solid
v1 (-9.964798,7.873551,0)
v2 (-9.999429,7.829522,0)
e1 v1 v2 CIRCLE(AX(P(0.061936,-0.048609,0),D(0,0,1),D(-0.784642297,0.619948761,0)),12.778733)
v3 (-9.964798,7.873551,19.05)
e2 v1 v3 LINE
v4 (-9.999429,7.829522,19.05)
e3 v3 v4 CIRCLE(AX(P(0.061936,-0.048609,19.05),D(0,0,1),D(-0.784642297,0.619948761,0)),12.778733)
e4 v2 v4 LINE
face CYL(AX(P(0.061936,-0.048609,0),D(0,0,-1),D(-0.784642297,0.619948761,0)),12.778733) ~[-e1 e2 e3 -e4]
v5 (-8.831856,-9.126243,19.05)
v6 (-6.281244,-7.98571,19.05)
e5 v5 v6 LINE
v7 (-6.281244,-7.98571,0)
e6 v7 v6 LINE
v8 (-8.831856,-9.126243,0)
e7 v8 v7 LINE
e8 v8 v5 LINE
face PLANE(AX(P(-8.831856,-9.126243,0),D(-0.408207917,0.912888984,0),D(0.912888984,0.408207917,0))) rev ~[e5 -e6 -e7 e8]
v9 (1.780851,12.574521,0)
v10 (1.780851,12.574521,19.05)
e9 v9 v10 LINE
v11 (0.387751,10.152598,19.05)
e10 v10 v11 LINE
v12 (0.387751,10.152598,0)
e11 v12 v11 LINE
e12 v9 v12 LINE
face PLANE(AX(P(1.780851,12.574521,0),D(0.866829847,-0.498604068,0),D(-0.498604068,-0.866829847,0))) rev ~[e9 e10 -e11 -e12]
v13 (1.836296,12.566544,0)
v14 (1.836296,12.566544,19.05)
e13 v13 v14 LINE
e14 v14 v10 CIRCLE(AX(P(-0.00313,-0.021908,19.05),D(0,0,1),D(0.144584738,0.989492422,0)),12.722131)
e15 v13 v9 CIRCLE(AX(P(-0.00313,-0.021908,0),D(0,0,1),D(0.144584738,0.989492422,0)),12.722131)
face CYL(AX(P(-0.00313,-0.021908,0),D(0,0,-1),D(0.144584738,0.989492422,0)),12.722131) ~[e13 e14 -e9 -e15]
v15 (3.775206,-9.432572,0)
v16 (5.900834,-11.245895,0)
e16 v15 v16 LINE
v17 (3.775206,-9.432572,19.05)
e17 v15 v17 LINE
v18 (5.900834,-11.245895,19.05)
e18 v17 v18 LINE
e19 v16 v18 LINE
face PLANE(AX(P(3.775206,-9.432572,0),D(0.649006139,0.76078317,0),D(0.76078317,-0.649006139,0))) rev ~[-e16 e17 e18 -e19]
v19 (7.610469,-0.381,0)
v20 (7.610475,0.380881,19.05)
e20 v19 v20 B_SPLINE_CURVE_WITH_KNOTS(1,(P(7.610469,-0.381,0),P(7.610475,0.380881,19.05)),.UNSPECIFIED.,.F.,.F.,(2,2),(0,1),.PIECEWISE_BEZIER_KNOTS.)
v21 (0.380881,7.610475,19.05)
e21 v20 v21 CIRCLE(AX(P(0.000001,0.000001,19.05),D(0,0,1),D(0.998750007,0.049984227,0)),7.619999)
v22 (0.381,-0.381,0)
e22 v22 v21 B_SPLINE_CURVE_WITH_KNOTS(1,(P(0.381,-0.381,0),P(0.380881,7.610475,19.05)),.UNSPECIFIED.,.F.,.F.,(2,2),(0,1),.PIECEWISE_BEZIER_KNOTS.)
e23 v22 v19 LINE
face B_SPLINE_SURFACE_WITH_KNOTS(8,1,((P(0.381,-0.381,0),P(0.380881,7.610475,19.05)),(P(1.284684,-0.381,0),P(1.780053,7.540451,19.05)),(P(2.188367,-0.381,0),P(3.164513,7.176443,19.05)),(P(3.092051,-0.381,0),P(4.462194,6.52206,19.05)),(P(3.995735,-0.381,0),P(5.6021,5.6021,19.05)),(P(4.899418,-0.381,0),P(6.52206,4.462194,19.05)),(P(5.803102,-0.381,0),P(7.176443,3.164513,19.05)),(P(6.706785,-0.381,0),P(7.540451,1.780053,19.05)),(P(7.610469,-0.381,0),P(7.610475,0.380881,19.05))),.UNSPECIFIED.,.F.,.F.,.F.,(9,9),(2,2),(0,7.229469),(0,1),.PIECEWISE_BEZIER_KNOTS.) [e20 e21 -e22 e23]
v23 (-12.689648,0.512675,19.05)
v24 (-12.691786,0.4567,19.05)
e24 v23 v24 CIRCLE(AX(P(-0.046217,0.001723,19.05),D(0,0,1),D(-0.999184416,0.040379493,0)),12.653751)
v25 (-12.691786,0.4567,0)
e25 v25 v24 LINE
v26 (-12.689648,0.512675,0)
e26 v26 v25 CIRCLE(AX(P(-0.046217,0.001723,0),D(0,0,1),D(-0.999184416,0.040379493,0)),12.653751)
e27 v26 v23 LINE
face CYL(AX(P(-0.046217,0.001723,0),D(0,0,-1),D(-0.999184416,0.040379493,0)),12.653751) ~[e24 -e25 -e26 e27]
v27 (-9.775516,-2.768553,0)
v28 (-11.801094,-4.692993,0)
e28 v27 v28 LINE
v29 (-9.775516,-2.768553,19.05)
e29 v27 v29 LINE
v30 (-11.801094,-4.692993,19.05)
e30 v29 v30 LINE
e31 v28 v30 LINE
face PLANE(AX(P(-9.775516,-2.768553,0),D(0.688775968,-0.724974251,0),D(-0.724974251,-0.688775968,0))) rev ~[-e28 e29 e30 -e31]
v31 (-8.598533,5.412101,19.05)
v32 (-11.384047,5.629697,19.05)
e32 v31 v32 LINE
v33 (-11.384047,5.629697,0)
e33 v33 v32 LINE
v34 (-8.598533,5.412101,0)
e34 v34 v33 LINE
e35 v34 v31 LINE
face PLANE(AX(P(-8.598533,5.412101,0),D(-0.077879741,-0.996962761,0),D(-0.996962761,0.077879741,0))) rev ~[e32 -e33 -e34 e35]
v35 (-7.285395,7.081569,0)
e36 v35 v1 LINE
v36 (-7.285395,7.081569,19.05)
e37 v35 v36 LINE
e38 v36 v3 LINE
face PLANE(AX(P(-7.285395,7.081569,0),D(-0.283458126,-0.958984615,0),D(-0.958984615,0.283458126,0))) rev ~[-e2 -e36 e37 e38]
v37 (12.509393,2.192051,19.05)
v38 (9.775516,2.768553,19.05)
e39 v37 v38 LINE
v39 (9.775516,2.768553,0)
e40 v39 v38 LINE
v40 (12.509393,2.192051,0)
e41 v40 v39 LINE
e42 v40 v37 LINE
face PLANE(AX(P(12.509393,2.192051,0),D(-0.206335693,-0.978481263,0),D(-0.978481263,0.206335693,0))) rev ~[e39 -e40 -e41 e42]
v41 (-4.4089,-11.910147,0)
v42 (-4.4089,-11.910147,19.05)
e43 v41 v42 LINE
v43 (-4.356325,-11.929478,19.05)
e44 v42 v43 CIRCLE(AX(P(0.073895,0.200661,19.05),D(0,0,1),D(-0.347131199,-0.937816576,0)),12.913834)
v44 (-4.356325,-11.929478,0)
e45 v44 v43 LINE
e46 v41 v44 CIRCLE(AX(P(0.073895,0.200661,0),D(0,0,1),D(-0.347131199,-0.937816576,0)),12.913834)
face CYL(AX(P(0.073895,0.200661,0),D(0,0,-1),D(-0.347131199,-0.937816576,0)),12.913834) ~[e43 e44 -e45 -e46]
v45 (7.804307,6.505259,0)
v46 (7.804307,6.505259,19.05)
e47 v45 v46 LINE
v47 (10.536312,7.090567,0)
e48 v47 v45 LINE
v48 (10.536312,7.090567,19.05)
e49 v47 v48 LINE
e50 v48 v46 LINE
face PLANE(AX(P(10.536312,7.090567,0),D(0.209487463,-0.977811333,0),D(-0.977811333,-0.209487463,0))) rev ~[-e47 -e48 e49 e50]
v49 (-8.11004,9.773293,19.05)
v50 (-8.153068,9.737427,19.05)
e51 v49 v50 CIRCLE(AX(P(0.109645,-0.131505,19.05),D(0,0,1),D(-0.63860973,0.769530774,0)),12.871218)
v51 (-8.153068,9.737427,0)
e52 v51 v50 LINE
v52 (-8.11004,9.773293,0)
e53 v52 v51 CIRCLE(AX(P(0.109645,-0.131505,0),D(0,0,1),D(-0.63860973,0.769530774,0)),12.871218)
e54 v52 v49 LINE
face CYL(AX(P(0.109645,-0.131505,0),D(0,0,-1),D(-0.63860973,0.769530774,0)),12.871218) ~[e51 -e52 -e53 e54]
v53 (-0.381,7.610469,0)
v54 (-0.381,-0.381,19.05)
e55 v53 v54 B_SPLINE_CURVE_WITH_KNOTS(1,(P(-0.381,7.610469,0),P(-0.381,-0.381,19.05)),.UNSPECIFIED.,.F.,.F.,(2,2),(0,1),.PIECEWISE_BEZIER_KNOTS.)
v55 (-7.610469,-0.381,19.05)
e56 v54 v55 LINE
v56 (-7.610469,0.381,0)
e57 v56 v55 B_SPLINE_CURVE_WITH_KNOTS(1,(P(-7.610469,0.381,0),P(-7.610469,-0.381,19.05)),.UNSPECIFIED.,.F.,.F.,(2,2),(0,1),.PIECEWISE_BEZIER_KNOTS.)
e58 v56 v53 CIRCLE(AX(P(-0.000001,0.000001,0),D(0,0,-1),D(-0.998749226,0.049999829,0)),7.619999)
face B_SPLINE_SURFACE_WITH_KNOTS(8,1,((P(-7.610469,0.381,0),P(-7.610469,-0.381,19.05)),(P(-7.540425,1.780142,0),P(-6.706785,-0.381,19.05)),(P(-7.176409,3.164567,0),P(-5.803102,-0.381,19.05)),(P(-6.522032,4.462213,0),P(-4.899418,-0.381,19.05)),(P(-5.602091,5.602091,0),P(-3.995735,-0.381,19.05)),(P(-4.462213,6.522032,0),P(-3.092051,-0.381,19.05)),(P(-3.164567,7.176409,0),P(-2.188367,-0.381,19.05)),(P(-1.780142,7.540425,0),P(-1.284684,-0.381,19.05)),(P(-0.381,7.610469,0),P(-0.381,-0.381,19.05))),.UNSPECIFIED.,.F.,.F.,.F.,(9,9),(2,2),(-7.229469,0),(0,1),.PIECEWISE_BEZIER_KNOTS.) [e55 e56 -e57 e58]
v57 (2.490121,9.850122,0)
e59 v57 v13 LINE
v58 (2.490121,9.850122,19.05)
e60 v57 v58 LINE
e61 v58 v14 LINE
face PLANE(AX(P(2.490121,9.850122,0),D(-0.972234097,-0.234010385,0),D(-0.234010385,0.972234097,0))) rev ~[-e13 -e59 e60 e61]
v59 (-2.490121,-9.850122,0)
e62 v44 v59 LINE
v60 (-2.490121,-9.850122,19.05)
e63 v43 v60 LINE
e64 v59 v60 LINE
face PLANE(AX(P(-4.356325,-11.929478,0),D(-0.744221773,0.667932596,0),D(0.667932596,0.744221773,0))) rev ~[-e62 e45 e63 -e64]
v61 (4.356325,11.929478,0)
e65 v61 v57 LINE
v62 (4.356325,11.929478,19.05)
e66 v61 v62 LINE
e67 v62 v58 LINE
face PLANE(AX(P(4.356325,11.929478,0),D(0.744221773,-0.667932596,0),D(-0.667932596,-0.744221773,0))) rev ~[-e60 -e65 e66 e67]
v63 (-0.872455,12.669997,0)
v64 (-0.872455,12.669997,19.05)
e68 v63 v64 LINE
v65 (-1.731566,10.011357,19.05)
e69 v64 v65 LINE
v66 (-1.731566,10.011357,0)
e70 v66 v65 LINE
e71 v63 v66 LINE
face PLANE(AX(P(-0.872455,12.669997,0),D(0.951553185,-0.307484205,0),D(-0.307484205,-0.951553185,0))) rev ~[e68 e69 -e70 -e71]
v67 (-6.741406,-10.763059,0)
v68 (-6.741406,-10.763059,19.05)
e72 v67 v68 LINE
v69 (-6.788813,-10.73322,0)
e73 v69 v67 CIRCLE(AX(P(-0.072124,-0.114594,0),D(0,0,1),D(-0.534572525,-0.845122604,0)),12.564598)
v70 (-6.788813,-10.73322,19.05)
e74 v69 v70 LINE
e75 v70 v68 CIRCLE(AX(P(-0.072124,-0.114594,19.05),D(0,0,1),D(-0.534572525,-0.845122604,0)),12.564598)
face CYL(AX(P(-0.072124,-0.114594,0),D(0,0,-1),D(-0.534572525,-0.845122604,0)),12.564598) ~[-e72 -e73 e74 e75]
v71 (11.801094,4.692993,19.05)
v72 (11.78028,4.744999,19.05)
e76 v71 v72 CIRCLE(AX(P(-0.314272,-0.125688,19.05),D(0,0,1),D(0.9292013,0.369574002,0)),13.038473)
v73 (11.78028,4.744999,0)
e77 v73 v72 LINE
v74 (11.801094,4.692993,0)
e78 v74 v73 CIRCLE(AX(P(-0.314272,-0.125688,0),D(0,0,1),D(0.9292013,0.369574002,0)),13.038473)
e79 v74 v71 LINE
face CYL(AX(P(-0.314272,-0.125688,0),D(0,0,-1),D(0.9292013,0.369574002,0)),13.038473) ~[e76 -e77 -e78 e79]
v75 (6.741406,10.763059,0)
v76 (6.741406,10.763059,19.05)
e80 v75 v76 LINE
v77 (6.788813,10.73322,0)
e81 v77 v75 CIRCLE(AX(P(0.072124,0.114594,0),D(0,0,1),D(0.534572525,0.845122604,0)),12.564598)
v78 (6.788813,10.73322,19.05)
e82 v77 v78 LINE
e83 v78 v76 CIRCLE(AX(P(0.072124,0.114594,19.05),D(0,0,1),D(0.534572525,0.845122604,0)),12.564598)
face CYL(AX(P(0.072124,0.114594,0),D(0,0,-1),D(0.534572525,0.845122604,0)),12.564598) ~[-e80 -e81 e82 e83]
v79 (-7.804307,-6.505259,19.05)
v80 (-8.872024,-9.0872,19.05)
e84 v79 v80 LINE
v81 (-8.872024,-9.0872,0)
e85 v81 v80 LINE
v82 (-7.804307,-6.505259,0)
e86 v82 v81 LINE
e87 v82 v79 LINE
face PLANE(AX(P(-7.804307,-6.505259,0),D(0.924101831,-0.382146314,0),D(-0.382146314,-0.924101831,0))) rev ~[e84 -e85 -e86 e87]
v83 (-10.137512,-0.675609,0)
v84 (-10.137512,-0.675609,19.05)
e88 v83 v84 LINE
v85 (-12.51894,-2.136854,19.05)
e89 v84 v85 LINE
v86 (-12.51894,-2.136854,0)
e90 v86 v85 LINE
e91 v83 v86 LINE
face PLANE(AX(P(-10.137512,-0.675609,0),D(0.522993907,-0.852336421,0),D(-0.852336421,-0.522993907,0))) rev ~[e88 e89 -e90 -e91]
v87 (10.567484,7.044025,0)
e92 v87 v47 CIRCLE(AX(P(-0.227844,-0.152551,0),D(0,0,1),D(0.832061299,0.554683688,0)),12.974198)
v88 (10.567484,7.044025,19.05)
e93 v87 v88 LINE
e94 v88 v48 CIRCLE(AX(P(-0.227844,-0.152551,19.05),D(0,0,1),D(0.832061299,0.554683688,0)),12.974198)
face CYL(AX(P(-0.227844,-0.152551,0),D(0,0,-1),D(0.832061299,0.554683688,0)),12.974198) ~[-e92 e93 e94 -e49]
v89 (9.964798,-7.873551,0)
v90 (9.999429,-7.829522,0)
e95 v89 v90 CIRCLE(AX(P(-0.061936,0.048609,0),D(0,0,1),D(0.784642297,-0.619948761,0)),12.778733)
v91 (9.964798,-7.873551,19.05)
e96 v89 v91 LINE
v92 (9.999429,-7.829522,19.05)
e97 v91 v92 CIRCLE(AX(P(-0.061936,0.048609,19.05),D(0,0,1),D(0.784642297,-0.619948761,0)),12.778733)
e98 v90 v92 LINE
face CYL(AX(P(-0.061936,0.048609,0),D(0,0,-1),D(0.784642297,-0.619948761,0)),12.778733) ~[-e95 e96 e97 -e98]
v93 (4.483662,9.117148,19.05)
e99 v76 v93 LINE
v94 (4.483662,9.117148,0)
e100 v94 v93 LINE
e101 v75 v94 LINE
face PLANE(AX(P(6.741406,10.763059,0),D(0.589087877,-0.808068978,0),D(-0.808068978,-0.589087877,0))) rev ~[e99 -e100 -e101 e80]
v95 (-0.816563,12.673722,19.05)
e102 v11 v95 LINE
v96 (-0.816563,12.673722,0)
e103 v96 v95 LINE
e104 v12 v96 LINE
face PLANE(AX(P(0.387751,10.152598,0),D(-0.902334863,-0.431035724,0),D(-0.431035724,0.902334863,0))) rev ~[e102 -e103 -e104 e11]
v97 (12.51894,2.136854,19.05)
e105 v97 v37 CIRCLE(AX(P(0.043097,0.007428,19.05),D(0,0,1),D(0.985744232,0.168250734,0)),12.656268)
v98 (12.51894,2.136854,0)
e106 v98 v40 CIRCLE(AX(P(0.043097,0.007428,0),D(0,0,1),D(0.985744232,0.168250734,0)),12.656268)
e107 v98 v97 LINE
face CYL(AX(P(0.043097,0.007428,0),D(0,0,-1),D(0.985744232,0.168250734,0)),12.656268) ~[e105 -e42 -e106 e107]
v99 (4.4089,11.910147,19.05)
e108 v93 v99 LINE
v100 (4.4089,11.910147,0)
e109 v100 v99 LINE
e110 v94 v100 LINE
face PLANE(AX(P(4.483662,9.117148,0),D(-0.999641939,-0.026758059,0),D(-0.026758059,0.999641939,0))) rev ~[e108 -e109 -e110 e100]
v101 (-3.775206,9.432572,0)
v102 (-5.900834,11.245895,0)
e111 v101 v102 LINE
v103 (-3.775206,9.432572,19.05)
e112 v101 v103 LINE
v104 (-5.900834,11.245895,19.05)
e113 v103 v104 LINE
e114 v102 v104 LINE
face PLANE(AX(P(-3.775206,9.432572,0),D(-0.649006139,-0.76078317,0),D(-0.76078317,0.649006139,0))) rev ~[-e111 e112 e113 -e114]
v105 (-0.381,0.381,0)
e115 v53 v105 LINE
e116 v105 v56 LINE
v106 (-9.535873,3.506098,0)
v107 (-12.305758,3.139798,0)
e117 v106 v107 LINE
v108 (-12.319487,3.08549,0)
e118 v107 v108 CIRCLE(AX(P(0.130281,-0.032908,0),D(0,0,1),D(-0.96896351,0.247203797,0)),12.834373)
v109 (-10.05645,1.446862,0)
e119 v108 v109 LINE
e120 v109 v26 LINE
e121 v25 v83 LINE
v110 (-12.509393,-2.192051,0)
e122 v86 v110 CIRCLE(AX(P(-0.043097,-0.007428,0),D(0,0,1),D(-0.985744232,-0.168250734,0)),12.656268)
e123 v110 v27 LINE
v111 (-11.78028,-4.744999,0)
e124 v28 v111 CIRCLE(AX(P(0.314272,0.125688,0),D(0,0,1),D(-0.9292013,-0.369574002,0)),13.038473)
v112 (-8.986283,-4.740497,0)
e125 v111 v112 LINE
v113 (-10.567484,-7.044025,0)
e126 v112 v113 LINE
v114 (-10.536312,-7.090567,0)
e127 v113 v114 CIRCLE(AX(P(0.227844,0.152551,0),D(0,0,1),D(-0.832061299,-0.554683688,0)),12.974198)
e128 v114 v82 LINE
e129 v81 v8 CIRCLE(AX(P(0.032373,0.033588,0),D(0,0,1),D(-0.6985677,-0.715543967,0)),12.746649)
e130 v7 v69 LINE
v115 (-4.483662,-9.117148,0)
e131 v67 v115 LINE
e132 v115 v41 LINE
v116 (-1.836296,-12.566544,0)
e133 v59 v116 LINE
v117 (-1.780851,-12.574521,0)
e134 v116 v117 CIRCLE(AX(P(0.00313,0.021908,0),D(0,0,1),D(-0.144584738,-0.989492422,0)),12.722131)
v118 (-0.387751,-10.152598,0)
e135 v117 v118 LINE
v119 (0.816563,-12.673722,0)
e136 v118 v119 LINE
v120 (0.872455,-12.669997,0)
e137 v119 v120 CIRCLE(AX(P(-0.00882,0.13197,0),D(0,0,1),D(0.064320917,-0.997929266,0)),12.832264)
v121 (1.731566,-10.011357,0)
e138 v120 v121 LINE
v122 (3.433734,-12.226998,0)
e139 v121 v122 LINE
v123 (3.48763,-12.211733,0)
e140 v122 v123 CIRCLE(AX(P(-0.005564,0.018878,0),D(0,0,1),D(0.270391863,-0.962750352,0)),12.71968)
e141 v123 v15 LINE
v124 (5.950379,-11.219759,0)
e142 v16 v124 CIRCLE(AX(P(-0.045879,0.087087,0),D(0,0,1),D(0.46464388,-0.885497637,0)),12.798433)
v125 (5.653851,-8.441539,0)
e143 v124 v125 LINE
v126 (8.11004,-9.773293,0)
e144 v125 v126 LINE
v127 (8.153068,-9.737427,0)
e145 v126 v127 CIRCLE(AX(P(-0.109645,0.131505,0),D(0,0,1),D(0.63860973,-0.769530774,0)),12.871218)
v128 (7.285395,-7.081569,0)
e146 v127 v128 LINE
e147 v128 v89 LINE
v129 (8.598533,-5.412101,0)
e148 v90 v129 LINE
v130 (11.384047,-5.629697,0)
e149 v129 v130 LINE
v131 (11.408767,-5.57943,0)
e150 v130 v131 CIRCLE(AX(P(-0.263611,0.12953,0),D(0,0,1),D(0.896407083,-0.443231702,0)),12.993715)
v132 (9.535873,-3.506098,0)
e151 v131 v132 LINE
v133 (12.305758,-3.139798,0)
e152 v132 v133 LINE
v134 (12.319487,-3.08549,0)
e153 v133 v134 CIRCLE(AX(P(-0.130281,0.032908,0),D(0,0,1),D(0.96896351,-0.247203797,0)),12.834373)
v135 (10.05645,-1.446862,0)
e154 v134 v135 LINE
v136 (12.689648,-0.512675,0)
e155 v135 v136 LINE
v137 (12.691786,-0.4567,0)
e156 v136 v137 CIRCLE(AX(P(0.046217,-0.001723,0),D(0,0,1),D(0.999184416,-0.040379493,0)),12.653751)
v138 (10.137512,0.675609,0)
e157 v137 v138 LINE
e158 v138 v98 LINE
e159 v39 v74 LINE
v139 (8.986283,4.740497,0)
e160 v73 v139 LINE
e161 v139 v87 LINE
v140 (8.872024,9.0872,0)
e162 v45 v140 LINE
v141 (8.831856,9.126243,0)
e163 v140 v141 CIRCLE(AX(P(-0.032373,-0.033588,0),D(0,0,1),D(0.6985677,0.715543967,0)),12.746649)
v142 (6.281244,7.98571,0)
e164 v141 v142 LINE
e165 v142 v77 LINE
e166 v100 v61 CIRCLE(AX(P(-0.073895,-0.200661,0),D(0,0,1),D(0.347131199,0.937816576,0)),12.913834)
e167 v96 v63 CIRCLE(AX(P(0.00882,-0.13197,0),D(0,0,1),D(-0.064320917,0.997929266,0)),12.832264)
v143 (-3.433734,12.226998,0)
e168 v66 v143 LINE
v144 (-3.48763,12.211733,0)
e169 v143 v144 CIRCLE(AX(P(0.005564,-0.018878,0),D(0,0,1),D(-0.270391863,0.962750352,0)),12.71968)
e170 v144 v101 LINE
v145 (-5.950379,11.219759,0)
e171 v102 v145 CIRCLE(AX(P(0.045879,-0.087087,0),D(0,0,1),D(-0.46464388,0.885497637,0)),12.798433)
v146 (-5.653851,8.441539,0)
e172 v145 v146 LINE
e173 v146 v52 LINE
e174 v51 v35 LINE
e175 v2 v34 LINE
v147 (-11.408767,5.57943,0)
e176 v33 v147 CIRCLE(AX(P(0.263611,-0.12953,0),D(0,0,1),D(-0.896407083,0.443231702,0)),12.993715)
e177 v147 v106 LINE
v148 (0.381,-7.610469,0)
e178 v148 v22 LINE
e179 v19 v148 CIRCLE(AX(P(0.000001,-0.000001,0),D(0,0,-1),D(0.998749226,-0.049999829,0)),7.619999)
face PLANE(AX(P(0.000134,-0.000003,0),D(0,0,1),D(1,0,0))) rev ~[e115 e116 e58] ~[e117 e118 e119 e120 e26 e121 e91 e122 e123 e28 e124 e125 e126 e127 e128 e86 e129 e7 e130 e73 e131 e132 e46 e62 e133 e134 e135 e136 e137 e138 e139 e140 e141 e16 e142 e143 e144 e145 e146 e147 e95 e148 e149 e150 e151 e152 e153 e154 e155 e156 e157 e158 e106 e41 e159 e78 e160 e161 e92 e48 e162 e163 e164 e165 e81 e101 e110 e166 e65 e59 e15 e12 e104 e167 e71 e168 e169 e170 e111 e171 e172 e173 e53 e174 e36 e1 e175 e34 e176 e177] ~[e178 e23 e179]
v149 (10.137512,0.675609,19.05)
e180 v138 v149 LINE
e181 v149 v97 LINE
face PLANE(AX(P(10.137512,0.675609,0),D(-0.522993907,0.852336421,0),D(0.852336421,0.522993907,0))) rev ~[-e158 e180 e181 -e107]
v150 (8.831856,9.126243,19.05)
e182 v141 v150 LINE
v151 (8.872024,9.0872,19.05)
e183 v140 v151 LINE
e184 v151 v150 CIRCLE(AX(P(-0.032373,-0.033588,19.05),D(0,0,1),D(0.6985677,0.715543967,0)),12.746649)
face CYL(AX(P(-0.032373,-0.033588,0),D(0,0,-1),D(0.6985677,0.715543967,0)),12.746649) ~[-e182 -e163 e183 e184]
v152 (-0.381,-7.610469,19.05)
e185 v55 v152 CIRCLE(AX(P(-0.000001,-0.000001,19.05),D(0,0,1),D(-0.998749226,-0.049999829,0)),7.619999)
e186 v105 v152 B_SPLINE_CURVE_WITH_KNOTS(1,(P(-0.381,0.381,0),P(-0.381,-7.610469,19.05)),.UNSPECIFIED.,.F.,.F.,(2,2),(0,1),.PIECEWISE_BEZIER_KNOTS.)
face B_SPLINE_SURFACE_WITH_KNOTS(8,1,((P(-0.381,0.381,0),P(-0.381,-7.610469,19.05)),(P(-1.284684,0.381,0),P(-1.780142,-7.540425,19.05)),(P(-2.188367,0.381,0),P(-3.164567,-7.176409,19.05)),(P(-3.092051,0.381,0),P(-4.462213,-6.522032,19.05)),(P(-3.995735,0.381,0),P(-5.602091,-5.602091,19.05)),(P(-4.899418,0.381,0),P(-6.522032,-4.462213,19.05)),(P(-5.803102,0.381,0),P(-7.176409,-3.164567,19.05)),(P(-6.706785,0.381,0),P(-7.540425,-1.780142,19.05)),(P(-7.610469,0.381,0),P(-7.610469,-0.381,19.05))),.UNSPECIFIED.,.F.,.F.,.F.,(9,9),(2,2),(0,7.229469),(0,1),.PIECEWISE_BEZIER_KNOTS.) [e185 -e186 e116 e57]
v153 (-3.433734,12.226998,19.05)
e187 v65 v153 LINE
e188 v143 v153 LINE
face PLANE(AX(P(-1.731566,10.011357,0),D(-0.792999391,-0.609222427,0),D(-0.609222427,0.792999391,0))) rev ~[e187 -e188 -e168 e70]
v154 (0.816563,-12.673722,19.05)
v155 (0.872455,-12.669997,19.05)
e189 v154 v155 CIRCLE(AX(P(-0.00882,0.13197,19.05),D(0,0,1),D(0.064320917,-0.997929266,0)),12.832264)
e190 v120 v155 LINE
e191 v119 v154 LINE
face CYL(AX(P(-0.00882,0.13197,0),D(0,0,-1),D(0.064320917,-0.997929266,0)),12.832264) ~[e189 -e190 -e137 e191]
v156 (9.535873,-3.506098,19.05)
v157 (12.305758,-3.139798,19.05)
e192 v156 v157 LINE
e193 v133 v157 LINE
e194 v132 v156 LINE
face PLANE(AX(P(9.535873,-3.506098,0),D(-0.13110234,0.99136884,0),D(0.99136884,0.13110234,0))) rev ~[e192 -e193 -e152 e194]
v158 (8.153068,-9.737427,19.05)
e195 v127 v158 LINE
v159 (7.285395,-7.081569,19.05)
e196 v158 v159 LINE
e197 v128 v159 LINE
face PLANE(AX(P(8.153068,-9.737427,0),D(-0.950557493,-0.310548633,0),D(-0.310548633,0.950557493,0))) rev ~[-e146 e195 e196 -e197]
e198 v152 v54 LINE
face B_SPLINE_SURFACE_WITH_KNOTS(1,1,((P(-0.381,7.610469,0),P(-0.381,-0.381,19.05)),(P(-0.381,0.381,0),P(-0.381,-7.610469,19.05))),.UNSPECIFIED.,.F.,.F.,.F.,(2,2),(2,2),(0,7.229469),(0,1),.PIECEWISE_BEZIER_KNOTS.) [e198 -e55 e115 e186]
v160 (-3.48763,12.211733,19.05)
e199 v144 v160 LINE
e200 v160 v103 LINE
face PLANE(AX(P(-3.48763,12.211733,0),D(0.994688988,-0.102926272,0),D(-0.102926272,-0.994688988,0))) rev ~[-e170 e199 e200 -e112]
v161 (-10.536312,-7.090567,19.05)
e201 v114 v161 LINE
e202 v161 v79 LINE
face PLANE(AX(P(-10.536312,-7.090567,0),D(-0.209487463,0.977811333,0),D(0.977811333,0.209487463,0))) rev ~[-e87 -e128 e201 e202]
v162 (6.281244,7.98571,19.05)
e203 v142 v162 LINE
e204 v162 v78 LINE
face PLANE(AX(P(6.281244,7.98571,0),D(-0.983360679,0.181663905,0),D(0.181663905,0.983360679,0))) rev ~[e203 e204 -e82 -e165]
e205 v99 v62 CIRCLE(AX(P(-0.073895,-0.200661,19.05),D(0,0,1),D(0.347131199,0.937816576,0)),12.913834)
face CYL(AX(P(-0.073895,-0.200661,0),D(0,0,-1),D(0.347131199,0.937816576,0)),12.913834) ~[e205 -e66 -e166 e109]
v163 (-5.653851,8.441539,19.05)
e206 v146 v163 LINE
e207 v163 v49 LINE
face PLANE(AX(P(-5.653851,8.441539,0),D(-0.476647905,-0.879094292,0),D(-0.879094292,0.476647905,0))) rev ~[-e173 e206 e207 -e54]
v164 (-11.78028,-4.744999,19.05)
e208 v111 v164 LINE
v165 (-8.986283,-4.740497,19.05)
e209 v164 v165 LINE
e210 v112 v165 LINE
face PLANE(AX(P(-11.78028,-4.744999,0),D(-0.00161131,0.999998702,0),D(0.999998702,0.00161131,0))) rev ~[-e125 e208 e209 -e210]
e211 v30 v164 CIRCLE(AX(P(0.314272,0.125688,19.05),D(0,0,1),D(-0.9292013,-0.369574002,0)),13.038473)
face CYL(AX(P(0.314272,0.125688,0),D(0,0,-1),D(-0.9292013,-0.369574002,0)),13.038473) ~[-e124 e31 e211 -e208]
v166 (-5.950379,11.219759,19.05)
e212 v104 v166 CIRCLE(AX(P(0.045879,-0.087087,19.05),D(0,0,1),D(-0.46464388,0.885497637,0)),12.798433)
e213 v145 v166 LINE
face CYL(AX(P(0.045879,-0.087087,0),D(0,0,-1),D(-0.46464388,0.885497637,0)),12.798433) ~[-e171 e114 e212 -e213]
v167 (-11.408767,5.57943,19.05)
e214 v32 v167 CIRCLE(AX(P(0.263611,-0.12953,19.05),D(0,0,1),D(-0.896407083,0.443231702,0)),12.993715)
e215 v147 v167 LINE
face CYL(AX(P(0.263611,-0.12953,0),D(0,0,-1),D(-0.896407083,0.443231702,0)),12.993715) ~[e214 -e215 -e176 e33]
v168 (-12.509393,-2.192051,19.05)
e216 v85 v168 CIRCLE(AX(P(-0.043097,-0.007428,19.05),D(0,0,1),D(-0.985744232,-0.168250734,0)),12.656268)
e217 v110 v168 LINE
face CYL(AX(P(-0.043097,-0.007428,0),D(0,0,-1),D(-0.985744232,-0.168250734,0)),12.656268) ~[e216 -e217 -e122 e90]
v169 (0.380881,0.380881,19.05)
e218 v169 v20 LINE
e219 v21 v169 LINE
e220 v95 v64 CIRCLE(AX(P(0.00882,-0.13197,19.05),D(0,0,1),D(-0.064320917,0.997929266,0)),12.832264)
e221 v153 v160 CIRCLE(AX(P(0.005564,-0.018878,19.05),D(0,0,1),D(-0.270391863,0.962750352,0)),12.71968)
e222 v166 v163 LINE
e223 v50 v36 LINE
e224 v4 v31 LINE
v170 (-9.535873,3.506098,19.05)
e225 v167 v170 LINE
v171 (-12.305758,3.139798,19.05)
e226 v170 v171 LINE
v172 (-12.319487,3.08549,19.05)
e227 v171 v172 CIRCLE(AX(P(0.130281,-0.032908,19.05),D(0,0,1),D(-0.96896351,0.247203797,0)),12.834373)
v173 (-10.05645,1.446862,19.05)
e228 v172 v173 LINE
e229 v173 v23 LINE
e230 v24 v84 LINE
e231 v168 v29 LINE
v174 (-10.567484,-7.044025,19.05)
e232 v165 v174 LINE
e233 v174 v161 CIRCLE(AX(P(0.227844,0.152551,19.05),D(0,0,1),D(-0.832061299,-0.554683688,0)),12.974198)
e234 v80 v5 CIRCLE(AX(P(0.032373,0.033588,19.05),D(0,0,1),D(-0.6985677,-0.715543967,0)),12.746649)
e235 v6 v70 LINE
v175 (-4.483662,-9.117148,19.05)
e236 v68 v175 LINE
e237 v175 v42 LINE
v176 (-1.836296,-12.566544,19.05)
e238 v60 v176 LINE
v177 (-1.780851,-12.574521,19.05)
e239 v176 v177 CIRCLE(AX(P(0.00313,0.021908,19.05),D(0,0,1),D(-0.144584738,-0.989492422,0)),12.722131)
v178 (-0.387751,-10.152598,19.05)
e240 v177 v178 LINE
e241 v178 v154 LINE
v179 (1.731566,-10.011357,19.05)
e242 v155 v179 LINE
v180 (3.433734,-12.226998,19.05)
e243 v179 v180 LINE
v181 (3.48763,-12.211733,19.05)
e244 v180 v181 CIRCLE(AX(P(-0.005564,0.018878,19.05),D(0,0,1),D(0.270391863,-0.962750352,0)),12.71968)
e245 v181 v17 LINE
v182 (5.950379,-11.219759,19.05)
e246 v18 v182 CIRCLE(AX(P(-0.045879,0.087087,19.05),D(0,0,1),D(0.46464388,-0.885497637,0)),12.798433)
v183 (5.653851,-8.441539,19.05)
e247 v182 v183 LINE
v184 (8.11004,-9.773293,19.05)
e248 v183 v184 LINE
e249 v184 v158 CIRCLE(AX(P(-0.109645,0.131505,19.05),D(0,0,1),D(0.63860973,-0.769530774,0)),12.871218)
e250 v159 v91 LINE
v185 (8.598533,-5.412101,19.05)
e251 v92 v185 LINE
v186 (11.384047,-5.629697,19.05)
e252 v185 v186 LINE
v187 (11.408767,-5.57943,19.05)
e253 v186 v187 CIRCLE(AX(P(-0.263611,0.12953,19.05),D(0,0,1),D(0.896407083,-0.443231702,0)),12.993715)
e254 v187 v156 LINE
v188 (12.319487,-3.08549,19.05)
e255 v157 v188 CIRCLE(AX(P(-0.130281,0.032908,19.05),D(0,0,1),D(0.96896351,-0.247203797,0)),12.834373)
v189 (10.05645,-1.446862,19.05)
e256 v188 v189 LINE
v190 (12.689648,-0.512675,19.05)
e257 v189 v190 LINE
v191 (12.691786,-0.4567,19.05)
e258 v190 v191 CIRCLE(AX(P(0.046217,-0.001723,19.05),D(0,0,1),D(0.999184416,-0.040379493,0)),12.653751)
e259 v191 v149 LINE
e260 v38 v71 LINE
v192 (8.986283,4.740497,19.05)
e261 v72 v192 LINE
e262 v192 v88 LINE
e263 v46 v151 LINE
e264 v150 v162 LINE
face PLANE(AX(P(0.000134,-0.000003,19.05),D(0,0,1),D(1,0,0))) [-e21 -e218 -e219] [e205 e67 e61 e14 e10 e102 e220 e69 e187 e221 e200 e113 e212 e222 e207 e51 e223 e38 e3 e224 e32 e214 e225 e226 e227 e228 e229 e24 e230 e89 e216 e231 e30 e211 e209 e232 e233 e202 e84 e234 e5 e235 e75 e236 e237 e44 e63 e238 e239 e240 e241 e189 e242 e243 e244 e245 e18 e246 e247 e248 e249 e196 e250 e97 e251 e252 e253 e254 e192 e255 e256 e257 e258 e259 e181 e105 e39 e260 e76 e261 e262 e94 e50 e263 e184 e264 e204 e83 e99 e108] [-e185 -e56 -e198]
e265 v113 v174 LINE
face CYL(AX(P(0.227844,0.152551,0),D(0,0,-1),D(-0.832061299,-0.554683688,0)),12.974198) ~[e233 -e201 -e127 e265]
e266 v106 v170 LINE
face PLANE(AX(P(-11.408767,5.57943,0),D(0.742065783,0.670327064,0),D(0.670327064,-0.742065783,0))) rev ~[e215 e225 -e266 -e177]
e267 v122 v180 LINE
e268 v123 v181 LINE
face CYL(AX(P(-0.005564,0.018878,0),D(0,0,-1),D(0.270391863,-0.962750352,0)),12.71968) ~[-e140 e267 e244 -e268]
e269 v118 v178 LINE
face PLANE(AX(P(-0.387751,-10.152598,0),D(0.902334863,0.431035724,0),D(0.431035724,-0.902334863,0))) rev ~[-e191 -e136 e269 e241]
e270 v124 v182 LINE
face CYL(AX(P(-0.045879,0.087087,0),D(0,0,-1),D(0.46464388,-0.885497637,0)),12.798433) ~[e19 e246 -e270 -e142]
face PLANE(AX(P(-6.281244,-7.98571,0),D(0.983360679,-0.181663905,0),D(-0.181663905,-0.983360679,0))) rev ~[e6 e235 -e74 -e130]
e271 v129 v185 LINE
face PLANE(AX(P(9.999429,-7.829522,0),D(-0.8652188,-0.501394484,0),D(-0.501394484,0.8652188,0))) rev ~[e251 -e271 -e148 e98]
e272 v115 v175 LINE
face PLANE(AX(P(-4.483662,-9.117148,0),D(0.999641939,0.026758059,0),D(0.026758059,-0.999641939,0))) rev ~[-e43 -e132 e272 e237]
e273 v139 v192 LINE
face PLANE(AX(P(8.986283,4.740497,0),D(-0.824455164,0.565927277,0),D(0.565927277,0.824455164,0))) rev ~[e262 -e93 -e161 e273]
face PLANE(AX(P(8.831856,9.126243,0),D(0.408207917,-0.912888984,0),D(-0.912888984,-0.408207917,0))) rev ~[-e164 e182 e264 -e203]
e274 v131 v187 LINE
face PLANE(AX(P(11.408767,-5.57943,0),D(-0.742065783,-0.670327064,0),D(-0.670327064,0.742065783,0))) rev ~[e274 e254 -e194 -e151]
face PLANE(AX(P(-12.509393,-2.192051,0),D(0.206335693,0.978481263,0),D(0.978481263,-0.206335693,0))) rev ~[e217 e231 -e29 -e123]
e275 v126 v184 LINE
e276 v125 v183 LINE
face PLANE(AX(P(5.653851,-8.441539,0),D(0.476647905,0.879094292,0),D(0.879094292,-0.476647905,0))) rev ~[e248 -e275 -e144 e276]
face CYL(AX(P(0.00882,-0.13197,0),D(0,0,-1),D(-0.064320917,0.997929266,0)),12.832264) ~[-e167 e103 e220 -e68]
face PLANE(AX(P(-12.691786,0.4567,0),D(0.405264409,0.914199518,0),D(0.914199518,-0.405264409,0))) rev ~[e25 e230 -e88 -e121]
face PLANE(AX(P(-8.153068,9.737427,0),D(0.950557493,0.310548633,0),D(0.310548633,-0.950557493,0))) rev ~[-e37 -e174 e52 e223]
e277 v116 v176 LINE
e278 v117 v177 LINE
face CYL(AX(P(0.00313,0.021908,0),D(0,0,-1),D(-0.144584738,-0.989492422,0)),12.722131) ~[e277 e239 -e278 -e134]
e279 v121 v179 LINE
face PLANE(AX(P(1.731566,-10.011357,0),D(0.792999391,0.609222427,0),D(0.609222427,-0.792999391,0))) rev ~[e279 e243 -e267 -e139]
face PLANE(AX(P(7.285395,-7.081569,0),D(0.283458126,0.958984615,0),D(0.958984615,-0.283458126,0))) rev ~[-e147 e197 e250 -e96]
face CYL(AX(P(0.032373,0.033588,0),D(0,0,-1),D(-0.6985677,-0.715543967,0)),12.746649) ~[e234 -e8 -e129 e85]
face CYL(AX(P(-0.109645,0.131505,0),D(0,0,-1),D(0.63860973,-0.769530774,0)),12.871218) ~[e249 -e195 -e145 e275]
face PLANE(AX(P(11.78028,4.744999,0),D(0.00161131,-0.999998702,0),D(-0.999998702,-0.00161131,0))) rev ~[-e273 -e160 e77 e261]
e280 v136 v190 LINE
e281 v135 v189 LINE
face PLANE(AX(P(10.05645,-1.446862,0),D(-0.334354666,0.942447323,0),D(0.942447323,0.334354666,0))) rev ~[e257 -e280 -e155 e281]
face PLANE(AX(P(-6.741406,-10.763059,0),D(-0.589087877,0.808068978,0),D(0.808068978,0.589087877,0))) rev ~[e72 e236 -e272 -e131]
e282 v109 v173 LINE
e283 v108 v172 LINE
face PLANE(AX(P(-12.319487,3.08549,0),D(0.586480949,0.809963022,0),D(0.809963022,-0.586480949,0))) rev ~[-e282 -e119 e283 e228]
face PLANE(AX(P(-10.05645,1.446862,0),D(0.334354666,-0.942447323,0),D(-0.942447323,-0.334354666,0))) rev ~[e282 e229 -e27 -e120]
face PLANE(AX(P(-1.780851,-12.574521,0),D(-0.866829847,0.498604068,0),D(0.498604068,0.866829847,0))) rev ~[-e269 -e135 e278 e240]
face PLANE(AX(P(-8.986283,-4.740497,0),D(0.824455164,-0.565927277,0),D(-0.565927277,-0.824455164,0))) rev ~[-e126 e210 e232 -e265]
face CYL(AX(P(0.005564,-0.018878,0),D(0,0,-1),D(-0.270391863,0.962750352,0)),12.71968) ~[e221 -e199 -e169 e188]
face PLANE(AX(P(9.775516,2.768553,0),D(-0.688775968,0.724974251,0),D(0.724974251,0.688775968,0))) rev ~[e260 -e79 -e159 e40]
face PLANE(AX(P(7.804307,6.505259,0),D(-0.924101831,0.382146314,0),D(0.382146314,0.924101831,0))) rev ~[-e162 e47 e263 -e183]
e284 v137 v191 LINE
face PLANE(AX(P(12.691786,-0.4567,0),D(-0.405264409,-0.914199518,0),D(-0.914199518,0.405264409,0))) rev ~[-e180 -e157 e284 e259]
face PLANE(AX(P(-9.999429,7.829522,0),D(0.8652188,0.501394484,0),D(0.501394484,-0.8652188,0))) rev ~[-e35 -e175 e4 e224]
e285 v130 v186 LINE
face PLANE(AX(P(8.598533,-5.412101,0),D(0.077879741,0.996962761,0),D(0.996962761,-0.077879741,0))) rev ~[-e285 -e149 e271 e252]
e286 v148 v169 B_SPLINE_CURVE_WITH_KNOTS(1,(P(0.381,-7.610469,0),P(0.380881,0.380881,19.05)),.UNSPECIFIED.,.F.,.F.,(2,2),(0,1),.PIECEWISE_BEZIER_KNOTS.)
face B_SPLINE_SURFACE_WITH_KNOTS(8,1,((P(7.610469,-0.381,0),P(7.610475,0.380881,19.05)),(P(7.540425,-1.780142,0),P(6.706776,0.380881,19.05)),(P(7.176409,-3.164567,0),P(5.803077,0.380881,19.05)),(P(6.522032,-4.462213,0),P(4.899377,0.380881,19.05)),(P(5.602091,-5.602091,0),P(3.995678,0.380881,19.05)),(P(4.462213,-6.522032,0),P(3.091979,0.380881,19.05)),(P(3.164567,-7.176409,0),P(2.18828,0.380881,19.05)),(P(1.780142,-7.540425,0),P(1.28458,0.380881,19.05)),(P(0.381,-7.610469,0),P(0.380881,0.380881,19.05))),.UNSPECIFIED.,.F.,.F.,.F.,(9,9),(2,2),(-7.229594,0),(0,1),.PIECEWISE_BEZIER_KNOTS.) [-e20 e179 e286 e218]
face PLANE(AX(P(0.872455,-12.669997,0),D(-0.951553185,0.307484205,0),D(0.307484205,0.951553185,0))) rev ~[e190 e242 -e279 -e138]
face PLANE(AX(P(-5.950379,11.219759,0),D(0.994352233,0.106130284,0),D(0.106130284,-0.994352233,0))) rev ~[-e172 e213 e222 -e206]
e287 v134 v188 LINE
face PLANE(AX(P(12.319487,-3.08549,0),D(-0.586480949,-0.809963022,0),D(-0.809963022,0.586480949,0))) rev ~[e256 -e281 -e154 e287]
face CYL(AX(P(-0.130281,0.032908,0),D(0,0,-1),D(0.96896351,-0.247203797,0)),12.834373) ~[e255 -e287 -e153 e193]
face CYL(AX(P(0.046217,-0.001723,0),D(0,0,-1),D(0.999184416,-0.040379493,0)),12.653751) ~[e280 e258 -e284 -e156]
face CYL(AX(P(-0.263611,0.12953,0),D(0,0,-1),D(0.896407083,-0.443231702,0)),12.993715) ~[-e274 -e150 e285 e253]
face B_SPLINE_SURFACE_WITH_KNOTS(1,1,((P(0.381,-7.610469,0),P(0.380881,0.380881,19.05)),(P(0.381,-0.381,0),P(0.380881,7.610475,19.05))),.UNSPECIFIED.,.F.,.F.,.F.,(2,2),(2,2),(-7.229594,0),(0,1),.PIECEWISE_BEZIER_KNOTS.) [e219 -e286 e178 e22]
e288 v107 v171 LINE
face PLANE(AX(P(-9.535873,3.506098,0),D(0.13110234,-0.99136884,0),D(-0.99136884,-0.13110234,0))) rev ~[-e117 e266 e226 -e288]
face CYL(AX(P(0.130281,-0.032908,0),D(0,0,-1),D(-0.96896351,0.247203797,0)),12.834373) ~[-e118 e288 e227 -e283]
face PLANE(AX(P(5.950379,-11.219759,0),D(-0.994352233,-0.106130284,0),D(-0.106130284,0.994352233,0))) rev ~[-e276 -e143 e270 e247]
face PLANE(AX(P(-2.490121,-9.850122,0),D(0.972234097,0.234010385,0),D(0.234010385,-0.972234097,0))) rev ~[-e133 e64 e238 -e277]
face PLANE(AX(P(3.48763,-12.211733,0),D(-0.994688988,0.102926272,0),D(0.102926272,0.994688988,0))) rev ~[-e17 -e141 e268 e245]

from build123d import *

# Parameters (mm, degrees)
F1_DEPTH = 19.05


with BuildPart() as f1:
    # F0 (on Top) → F1 (new body)
    with BuildSketch(Plane.XY):
        with BuildLine():
            ThreePointArc((10.16, 0), (10.154376, 0.337992), (10.137512, 0.675609))
            ThreePointArc((10.137512, 0.675609), (10.011357, 1.731566), (9.775516, 2.768553))
            ThreePointArc((9.775516, 2.768553), (9.432572, 3.775206), (8.986283, 4.740497))
            ThreePointArc((8.986283, 4.740497), (8.441539, 5.653851), (7.804307, 6.505259))
            ThreePointArc((7.804307, 6.505259), (7.081569, 7.285395), (6.281244, 7.98571))
            ThreePointArc((6.281244, 7.98571), (5.412101, 8.598533), (4.483662, 9.117148))
            ThreePointArc((4.483662, 9.117148), (3.506098, 9.535873), (2.490121, 9.850122))
            ThreePointArc((2.490121, 9.850122), (1.446862, 10.05645), (0.387751, 10.152598))
            ThreePointArc((0.387751, 10.152598), (-0.675609, 10.137512), (-1.731566, 10.011357))
            ThreePointArc((-1.731566, 10.011357), (-2.768553, 9.775516), (-3.775206, 9.432572))
            ThreePointArc((-3.775206, 9.432572), (-4.740497, 8.986283), (-5.653851, 8.441539))
            ThreePointArc((-5.653851, 8.441539), (-6.505259, 7.804307), (-7.285395, 7.081569))
            ThreePointArc((-7.285395, 7.081569), (-7.98571, 6.281244), (-8.598533, 5.412101))
            ThreePointArc((-8.598533, 5.412101), (-9.117148, 4.483662), (-9.535873, 3.506098))
            ThreePointArc((-9.535873, 3.506098), (-9.850122, 2.490121), (-10.05645, 1.446862))
            ThreePointArc((-10.05645, 1.446862), (-10.152598, 0.387751), (-10.137512, -0.675609))
            ThreePointArc((-10.137512, -0.675609), (-10.011357, -1.731566), (-9.775516, -2.768553))
            ThreePointArc((-9.775516, -2.768553), (-9.432572, -3.775206), (-8.986283, -4.740497))
            ThreePointArc((-8.986283, -4.740497), (-8.441539, -5.653851), (-7.804307, -6.505259))
            ThreePointArc((-7.804307, -6.505259), (-7.081569, -7.285395), (-6.281244, -7.98571))
            ThreePointArc((-6.281244, -7.98571), (-5.412101, -8.598533), (-4.483662, -9.117148))
            ThreePointArc((-4.483662, -9.117148), (-3.506098, -9.535873), (-2.490121, -9.850122))
            ThreePointArc((-2.490121, -9.850122), (-1.446862, -10.05645), (-0.387751, -10.152598))
            ThreePointArc((-0.387751, -10.152598), (0.675609, -10.137512), (1.731566, -10.011357))
            ThreePointArc((1.731566, -10.011357), (2.768553, -9.775516), (3.775206, -9.432572))
            ThreePointArc((3.775206, -9.432572), (4.740497, -8.986283), (5.653851, -8.441539))
            ThreePointArc((5.653851, -8.441539), (6.505259, -7.804307), (7.285395, -7.081569))
            ThreePointArc((7.285395, -7.081569), (7.98571, -6.281244), (8.598533, -5.412101))
            ThreePointArc((8.598533, -5.412101), (9.117148, -4.483662), (9.535873, -3.506098))
            ThreePointArc((9.535873, -3.506098), (9.850122, -2.490121), (10.05645, -1.446862))
            ThreePointArc((10.05645, -1.446862), (10.134079, -0.725281), (10.16, 0))
        make_face()
        with BuildLine():
            ThreePointArc((0.387751, 10.152598), (1.446862, 10.05645), (2.490121, 9.850122))
            Line((2.490121, 9.850122), (1.836296, 12.566544))
            ThreePointArc((1.836296, 12.566544), (1.808578, 12.570563), (1.780851, 12.574521))
            Line((1.780851, 12.574521), (0.387751, 10.152598))
        make_face()
        with BuildLine():
            ThreePointArc((2.490121, 9.850122), (3.506098, 9.535873), (4.483662, 9.117148))
            Line((4.483662, 9.117148), (4.4089, 11.910147))
            ThreePointArc((4.4089, 11.910147), (4.382623, 11.919841), (4.356325, 11.929478))
            Line((4.356325, 11.929478), (2.490121, 9.850122))
        make_face()
        with BuildLine():
            ThreePointArc((4.483662, 9.117148), (5.412101, 8.598533), (6.281244, 7.98571))
            Line((6.281244, 7.98571), (6.788813, 10.73322))
            ThreePointArc((6.788813, 10.73322), (6.765126, 10.748166), (6.741406, 10.763059))
            Line((6.741406, 10.763059), (4.483662, 9.117148))
        make_face()
        with BuildLine():
            ThreePointArc((6.281244, 7.98571), (7.081569, 7.285395), (7.804307, 6.505259))
            Line((7.804307, 6.505259), (8.872024, 9.0872))
            ThreePointArc((8.872024, 9.0872), (8.851961, 9.106744), (8.831856, 9.126243))
            Line((8.831856, 9.126243), (6.281244, 7.98571))
        make_face()
        with BuildLine():
            ThreePointArc((7.804307, 6.505259), (8.441539, 5.653851), (8.986283, 4.740497))
            Line((8.986283, 4.740497), (10.567484, 7.044025))
            ThreePointArc((10.567484, 7.044025), (10.551923, 7.067313), (10.536312, 7.090567))
            Line((10.536312, 7.090567), (7.804307, 6.505259))
        make_face()
        with BuildLine():
            Line((9.775516, 2.768553), (11.801094, 4.692993))
            ThreePointArc((11.801094, 4.692993), (11.790715, 4.719007), (11.78028, 4.744999))
            Line((11.78028, 4.744999), (8.986283, 4.740497))
            ThreePointArc((8.986283, 4.740497), (9.432572, 3.775206), (9.775516, 2.768553))
        make_face()
        with BuildLine():
            Line((10.137512, 0.675609), (12.51894, 2.136854))
            ThreePointArc((12.51894, 2.136854), (12.514197, 2.164458), (12.509393, 2.192051))
            Line((12.509393, 2.192051), (9.775516, 2.768553))
            ThreePointArc((9.775516, 2.768553), (10.011357, 1.731566), (10.137512, 0.675609))
        make_face()
        with BuildLine():
            ThreePointArc((12.305758, -3.139798), (12.312652, -3.112652), (12.319487, -3.08549))
            Line((12.319487, -3.08549), (10.05645, -1.446862))
            ThreePointArc((10.05645, -1.446862), (9.850122, -2.490121), (9.535873, -3.506098))
            Line((9.535873, -3.506098), (12.305758, -3.139798))
        make_face()
        with BuildLine():
            Line((9.999429, -7.829522), (8.598533, -5.412101))
            ThreePointArc((8.598533, -5.412101), (7.98571, -6.281244), (7.285395, -7.081569))
            Line((7.285395, -7.081569), (9.964798, -7.873551))
            ThreePointArc((9.964798, -7.873551), (9.982138, -7.851555), (9.999429, -7.829522))
        make_face()
        with BuildLine():
            Line((8.153068, -9.737427), (7.285395, -7.081569))
            ThreePointArc((7.285395, -7.081569), (6.505259, -7.804307), (5.653851, -8.441539))
            Line((5.653851, -8.441539), (8.11004, -9.773293))
            ThreePointArc((8.11004, -9.773293), (8.131574, -9.755383), (8.153068, -9.737427))
        make_face()
        with BuildLine():
            Line((5.950379, -11.219759), (5.653851, -8.441539))
            ThreePointArc((5.653851, -8.441539), (4.740497, -8.986283), (3.775206, -9.432572))
            Line((3.775206, -9.432572), (5.900834, -11.245895))
            ThreePointArc((5.900834, -11.245895), (5.925621, -11.232854), (5.950379, -11.219759))
        make_face()
        with BuildLine():
            Line((3.48763, -12.211733), (3.775206, -9.432572))
            ThreePointArc((3.775206, -9.432572), (2.768553, -9.775516), (1.731566, -10.011357))
            Line((1.731566, -10.011357), (3.433734, -12.226998))
            ThreePointArc((3.433734, -12.226998), (3.460691, -12.219395), (3.48763, -12.211733))
        make_face()
        with BuildLine():
            Line((0.872455, -12.669997), (1.731566, -10.011357))
            ThreePointArc((1.731566, -10.011357), (0.675609, -10.137512), (-0.387751, -10.152598))
            Line((-0.387751, -10.152598), (0.816563, -12.673722))
            ThreePointArc((0.816563, -12.673722), (0.844511, -12.67189), (0.872455, -12.669997))
        make_face()
        with BuildLine():
            Line((-1.780851, -12.574521), (-0.387751, -10.152598))
            ThreePointArc((-0.387751, -10.152598), (-1.446862, -10.05645), (-2.490121, -9.850122))
            Line((-2.490121, -9.850122), (-1.836296, -12.566544))
            ThreePointArc((-1.836296, -12.566544), (-1.808578, -12.570563), (-1.780851, -12.574521))
        make_face()
        with BuildLine():
            Line((-4.356325, -11.929478), (-2.490121, -9.850122))
            ThreePointArc((-2.490121, -9.850122), (-3.506098, -9.535873), (-4.483662, -9.117148))
            Line((-4.483662, -9.117148), (-4.4089, -11.910147))
            ThreePointArc((-4.4089, -11.910147), (-4.382623, -11.919841), (-4.356325, -11.929478))
        make_face()
        with BuildLine():
            Line((-6.741406, -10.763059), (-4.483662, -9.117148))
            ThreePointArc((-4.483662, -9.117148), (-5.412101, -8.598533), (-6.281244, -7.98571))
            Line((-6.281244, -7.98571), (-6.788813, -10.73322))
            ThreePointArc((-6.788813, -10.73322), (-6.765126, -10.748166), (-6.741406, -10.763059))
        make_face()
        with BuildLine():
            Line((-8.831856, -9.126243), (-6.281244, -7.98571))
            ThreePointArc((-6.281244, -7.98571), (-7.081569, -7.285395), (-7.804307, -6.505259))
            Line((-7.804307, -6.505259), (-8.872024, -9.0872))
            ThreePointArc((-8.872024, -9.0872), (-8.851961, -9.106744), (-8.831856, -9.126243))
        make_face()
        with BuildLine():
            Line((-10.536312, -7.090567), (-7.804307, -6.505259))
            ThreePointArc((-7.804307, -6.505259), (-8.441539, -5.653851), (-8.986283, -4.740497))
            Line((-8.986283, -4.740497), (-10.567484, -7.044025))
            ThreePointArc((-10.567484, -7.044025), (-10.551923, -7.067313), (-10.536312, -7.090567))
        make_face()
        with BuildLine():
            Line((-11.78028, -4.744999), (-8.986283, -4.740497))
            ThreePointArc((-8.986283, -4.740497), (-9.432572, -3.775206), (-9.775516, -2.768553))
            Line((-9.775516, -2.768553), (-11.801094, -4.692993))
            ThreePointArc((-11.801094, -4.692993), (-11.790715, -4.719007), (-11.78028, -4.744999))
        make_face()
        with BuildLine():
            Line((-12.509393, -2.192051), (-9.775516, -2.768553))
            ThreePointArc((-9.775516, -2.768553), (-10.011357, -1.731566), (-10.137512, -0.675609))
            Line((-10.137512, -0.675609), (-12.51894, -2.136854))
            ThreePointArc((-12.51894, -2.136854), (-12.514197, -2.164458), (-12.509393, -2.192051))
        make_face()
        with BuildLine():
            ThreePointArc((-8.598533, 5.412101), (-7.98571, 6.281244), (-7.285395, 7.081569))
            Line((-7.285395, 7.081569), (-9.964798, 7.873551))
            ThreePointArc((-9.964798, 7.873551), (-9.982138, 7.851555), (-9.999429, 7.829522))
            Line((-9.999429, 7.829522), (-8.598533, 5.412101))
        make_face()
        with BuildLine():
            ThreePointArc((-7.285395, 7.081569), (-6.505259, 7.804307), (-5.653851, 8.441539))
            Line((-5.653851, 8.441539), (-8.11004, 9.773293))
            ThreePointArc((-8.11004, 9.773293), (-8.131574, 9.755383), (-8.153068, 9.737427))
            Line((-8.153068, 9.737427), (-7.285395, 7.081569))
        make_face()
        with BuildLine():
            ThreePointArc((-5.653851, 8.441539), (-4.740497, 8.986283), (-3.775206, 9.432572))
            Line((-3.775206, 9.432572), (-5.900834, 11.245895))
            ThreePointArc((-5.900834, 11.245895), (-5.925621, 11.232854), (-5.950379, 11.219759))
            Line((-5.950379, 11.219759), (-5.653851, 8.441539))
        make_face()
        with BuildLine():
            ThreePointArc((-3.775206, 9.432572), (-2.768553, 9.775516), (-1.731566, 10.011357))
            Line((-1.731566, 10.011357), (-3.433734, 12.226998))
            ThreePointArc((-3.433734, 12.226998), (-3.460691, 12.219395), (-3.48763, 12.211733))
            Line((-3.48763, 12.211733), (-3.775206, 9.432572))
        make_face()
        with BuildLine():
            ThreePointArc((-1.731566, 10.011357), (-0.675609, 10.137512), (0.387751, 10.152598))
            Line((0.387751, 10.152598), (-0.816563, 12.673722))
            ThreePointArc((-0.816563, 12.673722), (-0.844511, 12.67189), (-0.872455, 12.669997))
            Line((-0.872455, 12.669997), (-1.731566, 10.011357))
        make_face()
        with BuildLine():
            ThreePointArc((-9.535873, 3.506098), (-9.117148, 4.483662), (-8.598533, 5.412101))
            Line((-8.598533, 5.412101), (-11.384047, 5.629697))
            ThreePointArc((-11.384047, 5.629697), (-11.396434, 5.604577), (-11.408767, 5.57943))
            Line((-11.408767, 5.57943), (-9.535873, 3.506098))
        make_face()
        with BuildLine():
            ThreePointArc((-10.05645, 1.446862), (-9.850122, 2.490121), (-9.535873, 3.506098))
            Line((-9.535873, 3.506098), (-12.305758, 3.139798))
            ThreePointArc((-12.305758, 3.139798), (-12.312652, 3.112652), (-12.319487, 3.08549))
            Line((-12.319487, 3.08549), (-10.05645, 1.446862))
        make_face()
        with BuildLine():
            ThreePointArc((-10.137512, -0.675609), (-10.152598, 0.387751), (-10.05645, 1.446862))
            Line((-10.05645, 1.446862), (-12.689648, 0.512675))
            ThreePointArc((-12.689648, 0.512675), (-12.690748, 0.484688), (-12.691786, 0.4567))
            Line((-12.691786, 0.4567), (-10.137512, -0.675609))
        make_face()
        with BuildLine():
            Line((11.408767, -5.57943), (9.535873, -3.506098))
            ThreePointArc((9.535873, -3.506098), (9.117148, -4.483662), (8.598533, -5.412101))
            Line((8.598533, -5.412101), (11.384047, -5.629697))
            ThreePointArc((11.384047, -5.629697), (11.396434, -5.604577), (11.408767, -5.57943))
        make_face()
        with BuildLine():
            ThreePointArc((12.689648, -0.512675), (12.690748, -0.484688), (12.691786, -0.4567))
            Line((12.691786, -0.4567), (10.137512, 0.675609))
            ThreePointArc((10.137512, 0.675609), (10.154376, 0.337992), (10.16, 0))
            ThreePointArc((10.16, 0), (10.134079, -0.725281), (10.05645, -1.446862))
            Line((10.05645, -1.446862), (12.689648, -0.512675))
        make_face()
    extrude(amount=F1_DEPTH)

    # F2 (on face) → F4 section 0
    with BuildSketch(Plane(origin=(0, 0, 0), x_dir=(1, 0, 0), z_dir=(0, 0, -1))):
        with BuildLine():
            Line((-0.381, -0.381), (-7.610469, -0.381))
            ThreePointArc((-7.610469, -0.381), (-5.388154, -5.388154), (-0.381, -7.610469))
            Line((-0.381, -7.610469), (-0.381, -0.381))
        make_face()
    # F3 (on face) → F4 section 1
    with BuildSketch(Plane.XY.offset(19.05)):
        with BuildLine():
            Line((-0.381, -0.381), (-7.610469, -0.381))
            ThreePointArc((-7.610469, -0.381), (-5.388154, -5.388154), (-0.381, -7.610469))
            Line((-0.381, -7.610469), (-0.381, -0.381))
        make_face()
    loft(mode=Mode.SUBTRACT)

    # F6 (on face) → F7 section 0
    with BuildSketch(Plane(origin=(0, 0, 0), x_dir=(1, 0, 0), z_dir=(0, 0, -1))):
        with BuildLine():
            Line((0.381, 0.381), (7.610469, 0.381))
            ThreePointArc((7.610469, 0.381), (5.388154, 5.388154), (0.381, 7.610469))
            Line((0.381, 7.610469), (0.381, 0.381))
        make_face()
    # F5 (on face) → F7 section 1
    with BuildSketch(Plane.XY.offset(19.05)):
        with BuildLine():
            Line((0.380881, 0.380881), (7.610475, 0.380881))
            ThreePointArc((7.610475, 0.380881), (5.388154, 5.388154), (0.380881, 7.610475))
            Line((0.380881, 7.610475), (0.380881, 0.380881))
        make_face()
    loft(mode=Mode.SUBTRACT)


solid = f1.part
